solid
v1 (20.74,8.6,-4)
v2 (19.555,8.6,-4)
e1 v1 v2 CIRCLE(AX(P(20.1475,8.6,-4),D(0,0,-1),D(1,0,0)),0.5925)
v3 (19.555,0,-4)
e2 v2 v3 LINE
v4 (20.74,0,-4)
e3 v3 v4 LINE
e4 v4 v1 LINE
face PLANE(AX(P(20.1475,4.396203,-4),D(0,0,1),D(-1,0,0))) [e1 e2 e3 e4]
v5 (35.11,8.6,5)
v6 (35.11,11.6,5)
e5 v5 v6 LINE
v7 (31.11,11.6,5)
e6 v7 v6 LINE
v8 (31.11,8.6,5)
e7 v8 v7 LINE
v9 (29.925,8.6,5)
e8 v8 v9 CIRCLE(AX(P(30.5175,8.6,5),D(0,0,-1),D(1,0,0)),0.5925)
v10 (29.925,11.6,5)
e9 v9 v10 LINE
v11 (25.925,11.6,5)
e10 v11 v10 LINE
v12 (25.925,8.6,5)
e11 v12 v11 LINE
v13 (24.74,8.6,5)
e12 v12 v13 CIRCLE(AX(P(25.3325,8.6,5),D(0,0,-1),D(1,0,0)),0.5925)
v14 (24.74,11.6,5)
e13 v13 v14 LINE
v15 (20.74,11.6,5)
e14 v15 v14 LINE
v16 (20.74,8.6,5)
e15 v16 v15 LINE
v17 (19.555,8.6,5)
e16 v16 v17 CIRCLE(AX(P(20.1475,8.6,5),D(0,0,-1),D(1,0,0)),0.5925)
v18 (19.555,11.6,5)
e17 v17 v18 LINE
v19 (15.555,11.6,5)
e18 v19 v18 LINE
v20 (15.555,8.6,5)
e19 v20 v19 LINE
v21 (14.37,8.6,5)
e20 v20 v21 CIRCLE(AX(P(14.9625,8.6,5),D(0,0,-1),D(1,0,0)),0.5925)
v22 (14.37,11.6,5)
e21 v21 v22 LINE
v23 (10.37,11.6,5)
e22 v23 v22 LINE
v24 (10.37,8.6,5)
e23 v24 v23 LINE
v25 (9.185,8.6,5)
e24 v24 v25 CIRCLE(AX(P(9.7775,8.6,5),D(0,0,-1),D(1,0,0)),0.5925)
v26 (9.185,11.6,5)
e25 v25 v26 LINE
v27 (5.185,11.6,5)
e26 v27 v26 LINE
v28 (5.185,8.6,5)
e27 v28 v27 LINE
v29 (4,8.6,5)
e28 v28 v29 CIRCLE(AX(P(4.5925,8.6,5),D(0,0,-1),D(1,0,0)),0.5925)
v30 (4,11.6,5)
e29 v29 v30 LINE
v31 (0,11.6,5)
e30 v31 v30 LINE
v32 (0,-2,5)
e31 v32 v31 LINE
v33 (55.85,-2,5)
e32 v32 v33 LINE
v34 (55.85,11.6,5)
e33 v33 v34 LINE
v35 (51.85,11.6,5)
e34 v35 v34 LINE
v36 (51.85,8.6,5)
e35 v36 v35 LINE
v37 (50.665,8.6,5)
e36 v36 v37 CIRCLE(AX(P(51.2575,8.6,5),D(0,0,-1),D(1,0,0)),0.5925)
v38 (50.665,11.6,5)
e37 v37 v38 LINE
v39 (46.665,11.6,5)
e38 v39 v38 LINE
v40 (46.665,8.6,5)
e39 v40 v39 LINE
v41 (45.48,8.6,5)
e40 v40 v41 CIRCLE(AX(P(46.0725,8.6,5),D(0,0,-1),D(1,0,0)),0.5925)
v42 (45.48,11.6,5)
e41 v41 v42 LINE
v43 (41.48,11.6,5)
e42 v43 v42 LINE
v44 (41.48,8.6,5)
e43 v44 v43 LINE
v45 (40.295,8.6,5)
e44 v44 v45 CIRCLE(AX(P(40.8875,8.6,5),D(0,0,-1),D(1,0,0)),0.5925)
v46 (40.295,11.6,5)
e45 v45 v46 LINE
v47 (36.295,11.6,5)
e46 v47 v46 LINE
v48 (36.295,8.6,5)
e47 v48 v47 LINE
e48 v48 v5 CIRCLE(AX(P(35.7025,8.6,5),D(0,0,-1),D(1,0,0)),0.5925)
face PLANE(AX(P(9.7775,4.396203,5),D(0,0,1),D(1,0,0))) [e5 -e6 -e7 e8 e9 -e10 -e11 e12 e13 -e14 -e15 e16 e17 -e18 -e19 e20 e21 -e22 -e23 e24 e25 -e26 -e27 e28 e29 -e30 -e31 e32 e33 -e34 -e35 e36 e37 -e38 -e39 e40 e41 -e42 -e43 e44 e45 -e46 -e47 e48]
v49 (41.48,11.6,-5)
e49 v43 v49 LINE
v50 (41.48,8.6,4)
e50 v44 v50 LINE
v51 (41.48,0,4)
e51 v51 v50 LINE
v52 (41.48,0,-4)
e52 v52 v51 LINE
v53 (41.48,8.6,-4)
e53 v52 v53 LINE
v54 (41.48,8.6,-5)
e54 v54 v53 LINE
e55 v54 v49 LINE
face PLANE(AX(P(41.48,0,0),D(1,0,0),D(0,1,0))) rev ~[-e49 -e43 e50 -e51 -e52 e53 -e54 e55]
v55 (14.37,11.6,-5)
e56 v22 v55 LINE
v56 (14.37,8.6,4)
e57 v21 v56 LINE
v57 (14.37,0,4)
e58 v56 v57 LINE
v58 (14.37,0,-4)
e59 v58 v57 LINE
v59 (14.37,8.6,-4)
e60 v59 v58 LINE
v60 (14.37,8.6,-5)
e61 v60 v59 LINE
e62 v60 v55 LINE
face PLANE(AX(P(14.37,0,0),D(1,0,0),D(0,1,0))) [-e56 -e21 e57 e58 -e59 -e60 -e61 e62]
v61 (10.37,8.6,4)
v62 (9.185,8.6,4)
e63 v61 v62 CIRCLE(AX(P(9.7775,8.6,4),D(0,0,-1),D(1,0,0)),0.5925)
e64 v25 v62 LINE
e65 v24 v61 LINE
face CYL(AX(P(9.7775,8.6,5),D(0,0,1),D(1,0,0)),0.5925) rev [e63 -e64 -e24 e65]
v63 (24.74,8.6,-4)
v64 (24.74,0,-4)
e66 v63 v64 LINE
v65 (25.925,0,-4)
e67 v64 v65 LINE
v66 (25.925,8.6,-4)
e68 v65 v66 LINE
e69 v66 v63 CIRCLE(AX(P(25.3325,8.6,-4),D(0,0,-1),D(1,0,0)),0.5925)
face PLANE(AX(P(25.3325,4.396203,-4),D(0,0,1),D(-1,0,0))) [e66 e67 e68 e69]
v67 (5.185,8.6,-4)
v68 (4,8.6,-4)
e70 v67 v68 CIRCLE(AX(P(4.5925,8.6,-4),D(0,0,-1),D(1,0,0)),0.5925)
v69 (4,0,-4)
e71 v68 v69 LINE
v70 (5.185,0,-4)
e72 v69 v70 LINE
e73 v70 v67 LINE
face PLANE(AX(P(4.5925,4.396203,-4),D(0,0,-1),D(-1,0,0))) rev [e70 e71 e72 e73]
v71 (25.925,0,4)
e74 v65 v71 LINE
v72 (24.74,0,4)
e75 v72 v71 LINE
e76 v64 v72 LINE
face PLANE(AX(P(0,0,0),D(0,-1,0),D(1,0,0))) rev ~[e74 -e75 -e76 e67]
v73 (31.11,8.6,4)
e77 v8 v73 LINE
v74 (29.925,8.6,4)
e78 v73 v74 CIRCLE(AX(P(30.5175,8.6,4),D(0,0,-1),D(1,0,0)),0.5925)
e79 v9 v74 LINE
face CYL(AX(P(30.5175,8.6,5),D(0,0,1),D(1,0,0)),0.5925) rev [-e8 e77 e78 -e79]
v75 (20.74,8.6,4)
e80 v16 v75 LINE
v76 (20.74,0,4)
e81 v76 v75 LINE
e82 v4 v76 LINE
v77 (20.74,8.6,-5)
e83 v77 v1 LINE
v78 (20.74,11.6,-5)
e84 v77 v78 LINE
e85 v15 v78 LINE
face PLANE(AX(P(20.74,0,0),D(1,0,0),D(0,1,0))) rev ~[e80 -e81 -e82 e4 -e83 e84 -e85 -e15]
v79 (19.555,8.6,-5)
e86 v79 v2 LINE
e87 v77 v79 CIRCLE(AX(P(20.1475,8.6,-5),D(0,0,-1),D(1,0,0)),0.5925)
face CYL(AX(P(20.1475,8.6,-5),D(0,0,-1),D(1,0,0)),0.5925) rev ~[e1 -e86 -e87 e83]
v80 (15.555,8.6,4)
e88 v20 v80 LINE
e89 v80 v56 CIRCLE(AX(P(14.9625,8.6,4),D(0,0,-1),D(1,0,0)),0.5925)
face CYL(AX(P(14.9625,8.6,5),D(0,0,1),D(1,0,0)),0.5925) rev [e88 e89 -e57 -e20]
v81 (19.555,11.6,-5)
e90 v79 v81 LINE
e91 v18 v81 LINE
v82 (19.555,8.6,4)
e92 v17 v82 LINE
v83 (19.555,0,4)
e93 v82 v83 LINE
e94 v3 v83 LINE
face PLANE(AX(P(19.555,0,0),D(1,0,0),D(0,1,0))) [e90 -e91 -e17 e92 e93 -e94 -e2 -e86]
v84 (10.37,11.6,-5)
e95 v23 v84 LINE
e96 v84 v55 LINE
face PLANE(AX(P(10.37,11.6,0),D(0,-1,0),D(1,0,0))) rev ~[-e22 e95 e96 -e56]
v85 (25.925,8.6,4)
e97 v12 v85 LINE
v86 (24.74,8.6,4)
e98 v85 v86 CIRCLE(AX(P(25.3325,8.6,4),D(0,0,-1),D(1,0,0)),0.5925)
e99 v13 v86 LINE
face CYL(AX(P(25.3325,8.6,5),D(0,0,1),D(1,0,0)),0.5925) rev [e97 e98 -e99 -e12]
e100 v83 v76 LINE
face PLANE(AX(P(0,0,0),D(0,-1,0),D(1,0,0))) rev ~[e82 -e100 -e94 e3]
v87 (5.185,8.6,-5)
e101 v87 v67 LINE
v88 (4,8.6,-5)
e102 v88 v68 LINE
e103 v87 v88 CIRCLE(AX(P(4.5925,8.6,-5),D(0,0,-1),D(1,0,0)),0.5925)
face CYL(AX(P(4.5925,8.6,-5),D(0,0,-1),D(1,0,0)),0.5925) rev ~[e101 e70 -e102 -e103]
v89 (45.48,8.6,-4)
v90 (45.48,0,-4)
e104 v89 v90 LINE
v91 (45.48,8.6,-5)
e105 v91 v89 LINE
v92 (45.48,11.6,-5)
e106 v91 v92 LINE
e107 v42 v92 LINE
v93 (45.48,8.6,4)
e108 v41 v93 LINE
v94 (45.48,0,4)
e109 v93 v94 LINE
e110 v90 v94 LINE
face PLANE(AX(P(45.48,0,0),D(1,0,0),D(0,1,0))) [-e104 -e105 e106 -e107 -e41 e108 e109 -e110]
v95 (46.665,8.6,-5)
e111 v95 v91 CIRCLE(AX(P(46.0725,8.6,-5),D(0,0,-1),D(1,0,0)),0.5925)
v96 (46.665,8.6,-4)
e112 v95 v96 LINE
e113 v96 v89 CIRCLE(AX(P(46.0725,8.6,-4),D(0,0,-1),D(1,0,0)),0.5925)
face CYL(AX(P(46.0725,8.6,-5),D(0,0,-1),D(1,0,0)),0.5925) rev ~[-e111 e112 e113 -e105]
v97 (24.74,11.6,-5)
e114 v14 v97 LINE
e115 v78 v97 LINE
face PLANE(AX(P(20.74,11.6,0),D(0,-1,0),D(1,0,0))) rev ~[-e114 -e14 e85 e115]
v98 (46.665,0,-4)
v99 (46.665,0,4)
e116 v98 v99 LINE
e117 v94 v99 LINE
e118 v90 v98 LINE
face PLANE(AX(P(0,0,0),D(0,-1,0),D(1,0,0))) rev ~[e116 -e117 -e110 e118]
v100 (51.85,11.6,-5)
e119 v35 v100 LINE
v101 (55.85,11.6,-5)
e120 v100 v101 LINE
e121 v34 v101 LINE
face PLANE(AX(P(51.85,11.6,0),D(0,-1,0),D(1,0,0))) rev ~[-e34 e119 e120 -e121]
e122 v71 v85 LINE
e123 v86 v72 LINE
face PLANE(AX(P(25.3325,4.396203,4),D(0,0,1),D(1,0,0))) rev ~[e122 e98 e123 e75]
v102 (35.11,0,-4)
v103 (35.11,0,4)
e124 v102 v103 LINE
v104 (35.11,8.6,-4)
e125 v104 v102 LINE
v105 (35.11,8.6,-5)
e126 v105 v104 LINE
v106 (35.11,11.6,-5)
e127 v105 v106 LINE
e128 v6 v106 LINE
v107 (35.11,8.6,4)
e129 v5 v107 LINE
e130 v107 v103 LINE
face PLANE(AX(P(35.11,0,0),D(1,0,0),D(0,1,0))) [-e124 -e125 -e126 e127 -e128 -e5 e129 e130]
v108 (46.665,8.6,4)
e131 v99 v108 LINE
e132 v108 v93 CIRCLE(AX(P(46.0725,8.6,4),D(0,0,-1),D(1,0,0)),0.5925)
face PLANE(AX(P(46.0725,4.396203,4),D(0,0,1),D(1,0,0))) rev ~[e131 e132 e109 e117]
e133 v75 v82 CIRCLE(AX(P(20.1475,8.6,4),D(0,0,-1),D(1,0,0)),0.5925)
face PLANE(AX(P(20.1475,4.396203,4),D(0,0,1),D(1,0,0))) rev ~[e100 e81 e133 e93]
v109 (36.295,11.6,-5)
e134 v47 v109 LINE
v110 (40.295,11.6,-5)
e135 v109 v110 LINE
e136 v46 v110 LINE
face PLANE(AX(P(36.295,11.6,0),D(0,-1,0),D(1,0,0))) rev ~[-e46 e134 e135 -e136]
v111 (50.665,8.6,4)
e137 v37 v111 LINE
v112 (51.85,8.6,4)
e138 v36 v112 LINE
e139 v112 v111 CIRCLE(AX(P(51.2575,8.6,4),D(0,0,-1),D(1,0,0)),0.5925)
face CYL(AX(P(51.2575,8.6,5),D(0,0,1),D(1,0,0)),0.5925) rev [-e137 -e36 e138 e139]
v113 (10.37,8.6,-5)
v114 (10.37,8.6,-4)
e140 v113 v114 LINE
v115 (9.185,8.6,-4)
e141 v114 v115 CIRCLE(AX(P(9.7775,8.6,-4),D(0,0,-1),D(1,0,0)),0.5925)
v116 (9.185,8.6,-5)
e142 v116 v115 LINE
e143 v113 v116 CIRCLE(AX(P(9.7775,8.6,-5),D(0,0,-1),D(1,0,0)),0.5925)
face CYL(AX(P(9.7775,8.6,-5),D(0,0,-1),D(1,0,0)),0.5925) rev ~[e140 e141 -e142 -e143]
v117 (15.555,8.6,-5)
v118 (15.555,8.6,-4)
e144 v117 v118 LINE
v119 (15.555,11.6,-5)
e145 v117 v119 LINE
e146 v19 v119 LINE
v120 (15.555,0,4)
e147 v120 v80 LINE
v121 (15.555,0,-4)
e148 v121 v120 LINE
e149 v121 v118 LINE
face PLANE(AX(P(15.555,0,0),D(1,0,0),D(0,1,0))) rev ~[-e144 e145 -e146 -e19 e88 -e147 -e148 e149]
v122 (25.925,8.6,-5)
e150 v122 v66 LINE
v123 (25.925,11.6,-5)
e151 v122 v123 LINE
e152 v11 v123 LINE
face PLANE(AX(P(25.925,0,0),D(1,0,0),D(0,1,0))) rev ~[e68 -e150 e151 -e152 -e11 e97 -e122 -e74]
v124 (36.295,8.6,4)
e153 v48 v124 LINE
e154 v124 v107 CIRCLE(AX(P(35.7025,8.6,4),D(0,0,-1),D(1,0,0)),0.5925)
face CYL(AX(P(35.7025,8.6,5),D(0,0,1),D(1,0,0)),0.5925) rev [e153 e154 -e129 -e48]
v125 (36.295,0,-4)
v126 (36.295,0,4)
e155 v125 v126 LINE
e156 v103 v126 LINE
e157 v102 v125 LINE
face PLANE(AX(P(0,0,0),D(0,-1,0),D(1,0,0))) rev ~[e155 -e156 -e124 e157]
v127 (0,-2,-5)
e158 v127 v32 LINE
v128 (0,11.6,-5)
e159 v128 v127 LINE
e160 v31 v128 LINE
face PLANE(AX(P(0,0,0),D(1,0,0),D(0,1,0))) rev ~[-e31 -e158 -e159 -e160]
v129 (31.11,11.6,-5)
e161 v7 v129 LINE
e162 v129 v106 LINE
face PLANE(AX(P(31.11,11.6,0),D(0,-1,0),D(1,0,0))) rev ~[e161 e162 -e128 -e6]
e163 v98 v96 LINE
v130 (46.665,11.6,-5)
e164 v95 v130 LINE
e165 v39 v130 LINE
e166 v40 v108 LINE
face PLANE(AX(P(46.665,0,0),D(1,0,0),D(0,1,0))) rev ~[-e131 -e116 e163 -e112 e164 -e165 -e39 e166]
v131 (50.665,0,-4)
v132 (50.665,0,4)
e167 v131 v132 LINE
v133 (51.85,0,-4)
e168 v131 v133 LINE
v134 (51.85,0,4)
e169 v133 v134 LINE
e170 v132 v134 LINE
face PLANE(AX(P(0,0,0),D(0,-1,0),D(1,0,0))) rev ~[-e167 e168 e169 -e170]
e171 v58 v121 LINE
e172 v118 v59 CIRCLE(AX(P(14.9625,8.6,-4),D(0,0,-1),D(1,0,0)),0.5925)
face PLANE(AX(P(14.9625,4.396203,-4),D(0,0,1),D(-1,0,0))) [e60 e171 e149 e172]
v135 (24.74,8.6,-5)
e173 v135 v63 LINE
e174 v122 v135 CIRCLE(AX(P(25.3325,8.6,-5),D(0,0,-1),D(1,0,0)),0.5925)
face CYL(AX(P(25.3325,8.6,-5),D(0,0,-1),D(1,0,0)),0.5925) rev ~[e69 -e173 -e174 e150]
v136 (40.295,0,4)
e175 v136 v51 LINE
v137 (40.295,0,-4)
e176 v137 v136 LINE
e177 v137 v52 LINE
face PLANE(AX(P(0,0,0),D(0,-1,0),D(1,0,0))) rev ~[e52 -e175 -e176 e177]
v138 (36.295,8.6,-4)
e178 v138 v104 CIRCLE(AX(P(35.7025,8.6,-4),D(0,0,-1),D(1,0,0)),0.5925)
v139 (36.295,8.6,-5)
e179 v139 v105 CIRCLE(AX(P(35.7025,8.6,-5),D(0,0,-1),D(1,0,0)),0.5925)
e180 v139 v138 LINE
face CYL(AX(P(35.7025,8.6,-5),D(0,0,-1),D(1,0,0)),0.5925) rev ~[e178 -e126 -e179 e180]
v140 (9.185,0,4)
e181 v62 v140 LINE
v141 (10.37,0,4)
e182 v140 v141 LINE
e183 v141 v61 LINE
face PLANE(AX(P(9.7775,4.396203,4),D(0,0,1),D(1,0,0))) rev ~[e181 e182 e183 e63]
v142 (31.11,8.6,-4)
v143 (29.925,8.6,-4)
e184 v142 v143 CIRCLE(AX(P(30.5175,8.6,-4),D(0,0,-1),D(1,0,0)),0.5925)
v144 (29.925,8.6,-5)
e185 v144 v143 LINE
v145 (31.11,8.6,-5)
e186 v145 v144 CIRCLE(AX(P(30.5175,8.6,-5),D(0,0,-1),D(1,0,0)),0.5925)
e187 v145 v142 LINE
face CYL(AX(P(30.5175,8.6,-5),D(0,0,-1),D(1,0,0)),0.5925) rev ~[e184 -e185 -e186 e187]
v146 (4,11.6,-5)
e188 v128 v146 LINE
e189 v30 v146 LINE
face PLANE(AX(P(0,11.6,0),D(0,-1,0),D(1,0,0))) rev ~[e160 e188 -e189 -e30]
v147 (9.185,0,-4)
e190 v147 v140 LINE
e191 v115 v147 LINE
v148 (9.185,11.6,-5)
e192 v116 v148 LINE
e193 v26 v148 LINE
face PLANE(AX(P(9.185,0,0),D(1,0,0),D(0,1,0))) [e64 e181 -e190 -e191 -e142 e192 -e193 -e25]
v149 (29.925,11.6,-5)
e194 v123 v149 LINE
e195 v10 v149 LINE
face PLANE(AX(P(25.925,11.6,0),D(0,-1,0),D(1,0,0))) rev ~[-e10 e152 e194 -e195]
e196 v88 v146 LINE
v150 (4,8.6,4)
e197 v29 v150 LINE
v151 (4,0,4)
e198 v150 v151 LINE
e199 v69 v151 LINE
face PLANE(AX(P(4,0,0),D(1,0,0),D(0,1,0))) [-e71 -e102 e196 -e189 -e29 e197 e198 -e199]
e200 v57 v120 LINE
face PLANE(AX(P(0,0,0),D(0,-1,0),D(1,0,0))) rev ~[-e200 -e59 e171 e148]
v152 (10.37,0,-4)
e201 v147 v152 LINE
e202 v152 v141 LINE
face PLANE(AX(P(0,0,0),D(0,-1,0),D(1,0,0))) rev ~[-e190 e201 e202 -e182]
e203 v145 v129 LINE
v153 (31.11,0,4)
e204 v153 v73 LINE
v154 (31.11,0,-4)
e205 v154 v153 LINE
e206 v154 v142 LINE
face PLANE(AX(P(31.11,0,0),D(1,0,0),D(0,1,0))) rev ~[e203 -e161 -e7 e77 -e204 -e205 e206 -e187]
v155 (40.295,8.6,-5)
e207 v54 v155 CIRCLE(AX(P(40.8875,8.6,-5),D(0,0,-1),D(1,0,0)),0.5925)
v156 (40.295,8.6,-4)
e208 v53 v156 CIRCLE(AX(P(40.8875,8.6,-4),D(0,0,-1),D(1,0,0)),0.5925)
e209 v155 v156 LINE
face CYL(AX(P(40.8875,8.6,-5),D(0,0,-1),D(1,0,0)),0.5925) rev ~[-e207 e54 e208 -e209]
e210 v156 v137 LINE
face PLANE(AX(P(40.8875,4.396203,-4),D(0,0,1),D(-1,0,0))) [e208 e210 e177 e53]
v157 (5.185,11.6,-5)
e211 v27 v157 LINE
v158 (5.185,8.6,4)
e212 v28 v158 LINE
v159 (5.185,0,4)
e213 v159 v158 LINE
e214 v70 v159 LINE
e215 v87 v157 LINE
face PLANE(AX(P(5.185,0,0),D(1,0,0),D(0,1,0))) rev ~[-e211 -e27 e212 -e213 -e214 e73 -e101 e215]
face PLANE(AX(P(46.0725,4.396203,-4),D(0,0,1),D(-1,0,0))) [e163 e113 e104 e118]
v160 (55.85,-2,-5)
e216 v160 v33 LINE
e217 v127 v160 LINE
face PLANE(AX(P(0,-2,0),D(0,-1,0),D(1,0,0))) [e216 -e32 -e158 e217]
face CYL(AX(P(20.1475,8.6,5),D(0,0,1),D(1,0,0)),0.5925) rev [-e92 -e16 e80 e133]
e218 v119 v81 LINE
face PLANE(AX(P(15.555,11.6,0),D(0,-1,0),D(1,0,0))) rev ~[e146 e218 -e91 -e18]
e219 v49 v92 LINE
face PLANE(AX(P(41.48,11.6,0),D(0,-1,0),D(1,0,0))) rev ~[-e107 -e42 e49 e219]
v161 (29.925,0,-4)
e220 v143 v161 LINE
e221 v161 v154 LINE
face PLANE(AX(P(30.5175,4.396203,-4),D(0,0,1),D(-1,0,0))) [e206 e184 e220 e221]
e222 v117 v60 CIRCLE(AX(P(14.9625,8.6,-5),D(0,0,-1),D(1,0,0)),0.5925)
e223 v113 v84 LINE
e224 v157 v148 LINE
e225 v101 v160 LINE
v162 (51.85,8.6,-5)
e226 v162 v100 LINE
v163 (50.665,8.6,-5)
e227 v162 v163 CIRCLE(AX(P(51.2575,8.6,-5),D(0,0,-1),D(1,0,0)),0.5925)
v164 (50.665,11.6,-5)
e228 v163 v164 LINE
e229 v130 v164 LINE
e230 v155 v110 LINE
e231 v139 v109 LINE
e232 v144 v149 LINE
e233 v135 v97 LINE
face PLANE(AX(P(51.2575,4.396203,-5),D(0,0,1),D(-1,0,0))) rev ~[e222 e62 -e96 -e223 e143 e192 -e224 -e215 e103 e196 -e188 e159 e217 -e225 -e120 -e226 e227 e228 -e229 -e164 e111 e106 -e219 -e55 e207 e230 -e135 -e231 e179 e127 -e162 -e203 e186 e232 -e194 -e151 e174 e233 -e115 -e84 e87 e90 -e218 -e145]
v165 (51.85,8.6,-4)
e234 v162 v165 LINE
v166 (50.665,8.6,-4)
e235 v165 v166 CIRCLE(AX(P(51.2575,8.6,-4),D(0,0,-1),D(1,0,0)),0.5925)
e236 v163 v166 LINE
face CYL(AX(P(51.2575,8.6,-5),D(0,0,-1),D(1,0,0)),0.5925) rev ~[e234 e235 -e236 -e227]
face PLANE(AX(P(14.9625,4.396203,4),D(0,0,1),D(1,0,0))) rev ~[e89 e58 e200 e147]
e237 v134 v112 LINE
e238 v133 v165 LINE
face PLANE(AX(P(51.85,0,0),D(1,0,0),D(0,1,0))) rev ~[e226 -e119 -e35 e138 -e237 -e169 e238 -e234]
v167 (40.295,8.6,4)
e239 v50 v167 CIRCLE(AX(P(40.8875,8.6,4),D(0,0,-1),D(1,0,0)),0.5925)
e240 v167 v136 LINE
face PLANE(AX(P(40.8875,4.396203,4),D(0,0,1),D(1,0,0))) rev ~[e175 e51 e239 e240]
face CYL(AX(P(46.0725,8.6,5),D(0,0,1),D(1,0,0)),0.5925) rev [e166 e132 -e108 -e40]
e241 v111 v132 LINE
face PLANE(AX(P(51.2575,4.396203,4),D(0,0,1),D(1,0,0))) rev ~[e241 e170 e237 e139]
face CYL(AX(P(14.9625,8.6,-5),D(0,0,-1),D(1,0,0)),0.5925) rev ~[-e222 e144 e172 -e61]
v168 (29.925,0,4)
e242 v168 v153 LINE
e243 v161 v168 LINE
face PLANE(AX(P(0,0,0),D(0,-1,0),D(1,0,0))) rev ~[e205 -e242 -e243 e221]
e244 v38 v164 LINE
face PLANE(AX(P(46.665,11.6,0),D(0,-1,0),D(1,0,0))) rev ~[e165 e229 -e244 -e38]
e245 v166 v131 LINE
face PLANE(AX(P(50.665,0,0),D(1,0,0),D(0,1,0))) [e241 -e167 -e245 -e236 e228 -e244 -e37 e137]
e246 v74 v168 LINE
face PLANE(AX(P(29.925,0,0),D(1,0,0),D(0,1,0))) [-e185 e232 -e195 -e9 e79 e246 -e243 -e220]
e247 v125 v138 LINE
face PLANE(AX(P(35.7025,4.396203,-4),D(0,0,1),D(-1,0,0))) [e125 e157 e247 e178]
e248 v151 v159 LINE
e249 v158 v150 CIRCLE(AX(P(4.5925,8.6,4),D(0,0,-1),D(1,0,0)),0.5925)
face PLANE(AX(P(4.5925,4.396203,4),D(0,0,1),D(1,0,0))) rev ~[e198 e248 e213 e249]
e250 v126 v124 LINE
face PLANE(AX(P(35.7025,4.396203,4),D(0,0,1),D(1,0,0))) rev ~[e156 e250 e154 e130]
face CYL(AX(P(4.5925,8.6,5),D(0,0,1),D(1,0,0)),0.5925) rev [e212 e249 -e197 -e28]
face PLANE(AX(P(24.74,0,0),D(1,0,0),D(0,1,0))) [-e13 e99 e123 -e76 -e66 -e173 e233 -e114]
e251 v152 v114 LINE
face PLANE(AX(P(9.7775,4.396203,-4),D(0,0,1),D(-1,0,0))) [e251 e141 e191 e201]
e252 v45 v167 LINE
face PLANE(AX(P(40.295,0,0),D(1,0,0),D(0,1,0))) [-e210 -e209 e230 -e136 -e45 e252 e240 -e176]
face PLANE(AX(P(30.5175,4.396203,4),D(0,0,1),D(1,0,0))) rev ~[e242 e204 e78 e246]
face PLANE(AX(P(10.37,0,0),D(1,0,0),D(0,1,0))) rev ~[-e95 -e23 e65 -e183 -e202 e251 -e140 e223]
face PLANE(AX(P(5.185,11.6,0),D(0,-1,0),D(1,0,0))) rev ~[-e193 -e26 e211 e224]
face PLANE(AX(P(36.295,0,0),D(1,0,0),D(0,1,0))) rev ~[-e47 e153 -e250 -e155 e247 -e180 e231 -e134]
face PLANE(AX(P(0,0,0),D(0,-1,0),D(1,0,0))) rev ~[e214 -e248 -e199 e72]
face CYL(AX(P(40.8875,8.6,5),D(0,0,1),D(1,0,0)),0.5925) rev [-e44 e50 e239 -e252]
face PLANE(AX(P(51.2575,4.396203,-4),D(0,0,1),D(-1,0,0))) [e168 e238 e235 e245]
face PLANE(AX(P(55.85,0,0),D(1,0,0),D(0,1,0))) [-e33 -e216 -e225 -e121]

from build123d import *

# Parameters (mm, degrees)
SKIZZE1_W                       = 55.85
SKIZZE1_H                       = 2
AUFSATZ_LINEAR_AUSTRAGEN1_DEPTH = 5
SKIZZE2_W                       = 4
SKIZZE2_H                       = 11.6
AUFSATZ_LINEAR_AUSTRAGEN2_DEPTH = 5
LINEARES_MUSTER1_COUNT          = 11
LINEARES_MUSTER1_PITCH          = 5.185
AUFSATZ_LINEAR_AUSTRAGEN3_DEPTH = 1
LINEARES_MUSTER2_COUNT          = 10
LINEARES_MUSTER2_PITCH          = 5.185
LINEARES_MUSTER2_COPY_1_DEPTH   = 1
LINEARES_MUSTER2_COPY_2_DEPTH   = 1
LINEARES_MUSTER2_COPY_3_DEPTH   = 1
LINEARES_MUSTER2_COPY_4_DEPTH   = 1
LINEARES_MUSTER2_COPY_5_DEPTH   = 1
LINEARES_MUSTER2_COPY_6_DEPTH   = 1
LINEARES_MUSTER2_COPY_7_DEPTH   = 1
LINEARES_MUSTER2_COPY_8_DEPTH   = 1
LINEARES_MUSTER2_COPY_9_DEPTH   = 1


with BuildPart() as part:
    # Skizze1 → Aufsatz-Linear austragen1 (new, symmetric)
    with BuildSketch(Plane.XY):
        with Locations((27.925, -1)):
            Rectangle(SKIZZE1_W, SKIZZE1_H)
    extrude(amount=AUFSATZ_LINEAR_AUSTRAGEN1_DEPTH, both=True)

    # Skizze2 → Aufsatz-Linear austragen2 (add, symmetric)
    with BuildSketch(Plane.XY):
        with Locations((2, 5.8)):
            Rectangle(SKIZZE2_W, SKIZZE2_H)
    aufsatz_linear_austragen2 = extrude(amount=AUFSATZ_LINEAR_AUSTRAGEN2_DEPTH, both=True)

    # Lineares Muster1: Aufsatz-Linear austragen2 ×11
    with Locations(*[(i * LINEARES_MUSTER1_PITCH, 0, 0) for i in range(1, LINEARES_MUSTER1_COUNT)]):
        add(aufsatz_linear_austragen2)

    # Skizze3 → Aufsatz-Linear austragen3 (add)
    with BuildSketch(Plane.XY.offset(5)):
        with BuildLine():
            Line((4, 8.6), (4, 0))
            Line((4, 0), (5.185, 0))
            Line((5.185, 0), (5.185, 8.6))
            ThreePointArc((5.185, 8.6), (4.5925, 8.0075), (4, 8.6))
        make_face()
    aufsatz_linear_austragen3 = extrude(amount=-AUFSATZ_LINEAR_AUSTRAGEN3_DEPTH)

    # Spiegeln1: Aufsatz-Linear austragen3 across plane
    add(aufsatz_linear_austragen3.mirror(Plane.XY))

    # Lineares Muster2: Aufsatz-Linear austragen3 ×10
    with Locations(*[(i * LINEARES_MUSTER2_PITCH, 0, 0) for i in range(1, LINEARES_MUSTER2_COUNT)]):
        add(aufsatz_linear_austragen3)

    # Lineares Muster2 copy 1 sketch → Lineares Muster2 copy 1 (add)
    with BuildSketch(Plane(origin=(5.185, 0, -5), x_dir=(1, 0, 0), z_dir=(0, 0, -1))):
        with BuildLine():
            Line((4, -8.6), (4, 0))
            Line((4, 0), (5.185, 0))
            Line((5.185, 0), (5.185, -8.6))
            ThreePointArc((5.185, -8.6), (4.5925, -8.0075), (4, -8.6))
        make_face()
    extrude(amount=-LINEARES_MUSTER2_COPY_1_DEPTH)

    # Lineares Muster2 copy 2 sketch → Lineares Muster2 copy 2 (add)
    with BuildSketch(Plane(origin=(10.37, 0, -5), x_dir=(1, 0, 0), z_dir=(0, 0, -1))):
        with BuildLine():
            Line((4, -8.6), (4, 0))
            Line((4, 0), (5.185, 0))
            Line((5.185, 0), (5.185, -8.6))
            ThreePointArc((5.185, -8.6), (4.5925, -8.0075), (4, -8.6))
        make_face()
    extrude(amount=-LINEARES_MUSTER2_COPY_2_DEPTH)

    # Lineares Muster2 copy 3 sketch → Lineares Muster2 copy 3 (add)
    with BuildSketch(Plane(origin=(15.555, 0, -5), x_dir=(1, 0, 0), z_dir=(0, 0, -1))):
        with BuildLine():
            Line((4, -8.6), (4, 0))
            Line((4, 0), (5.185, 0))
            Line((5.185, 0), (5.185, -8.6))
            ThreePointArc((5.185, -8.6), (4.5925, -8.0075), (4, -8.6))
        make_face()
    extrude(amount=-LINEARES_MUSTER2_COPY_3_DEPTH)

    # Lineares Muster2 copy 4 sketch → Lineares Muster2 copy 4 (add)
    with BuildSketch(Plane(origin=(20.74, 0, -5), x_dir=(1, 0, 0), z_dir=(0, 0, -1))):
        with BuildLine():
            Line((4, -8.6), (4, 0))
            Line((4, 0), (5.185, 0))
            Line((5.185, 0), (5.185, -8.6))
            ThreePointArc((5.185, -8.6), (4.5925, -8.0075), (4, -8.6))
        make_face()
    extrude(amount=-LINEARES_MUSTER2_COPY_4_DEPTH)

    # Lineares Muster2 copy 5 sketch → Lineares Muster2 copy 5 (add)
    with BuildSketch(Plane(origin=(25.925, 0, -5), x_dir=(1, 0, 0), z_dir=(0, 0, -1))):
        with BuildLine():
            Line((4, -8.6), (4, 0))
            Line((4, 0), (5.185, 0))
            Line((5.185, 0), (5.185, -8.6))
            ThreePointArc((5.185, -8.6), (4.5925, -8.0075), (4, -8.6))
        make_face()
    extrude(amount=-LINEARES_MUSTER2_COPY_5_DEPTH)

    # Lineares Muster2 copy 6 sketch → Lineares Muster2 copy 6 (add)
    with BuildSketch(Plane(origin=(31.11, 0, -5), x_dir=(1, 0, 0), z_dir=(0, 0, -1))):
        with BuildLine():
            Line((4, -8.6), (4, 0))
            Line((4, 0), (5.185, 0))
            Line((5.185, 0), (5.185, -8.6))
            ThreePointArc((5.185, -8.6), (4.5925, -8.0075), (4, -8.6))
        make_face()
    extrude(amount=-LINEARES_MUSTER2_COPY_6_DEPTH)

    # Lineares Muster2 copy 7 sketch → Lineares Muster2 copy 7 (add)
    with BuildSketch(Plane(origin=(36.295, 0, -5), x_dir=(1, 0, 0), z_dir=(0, 0, -1))):
        with BuildLine():
            Line((4, -8.6), (4, 0))
            Line((4, 0), (5.185, 0))
            Line((5.185, 0), (5.185, -8.6))
            ThreePointArc((5.185, -8.6), (4.5925, -8.0075), (4, -8.6))
        make_face()
    extrude(amount=-LINEARES_MUSTER2_COPY_7_DEPTH)

    # Lineares Muster2 copy 8 sketch → Lineares Muster2 copy 8 (add)
    with BuildSketch(Plane(origin=(41.48, 0, -5), x_dir=(1, 0, 0), z_dir=(0, 0, -1))):
        with BuildLine():
            Line((4, -8.6), (4, 0))
            Line((4, 0), (5.185, 0))
            Line((5.185, 0), (5.185, -8.6))
            ThreePointArc((5.185, -8.6), (4.5925, -8.0075), (4, -8.6))
        make_face()
    extrude(amount=-LINEARES_MUSTER2_COPY_8_DEPTH)

    # Lineares Muster2 copy 9 sketch → Lineares Muster2 copy 9 (add)
    with BuildSketch(Plane(origin=(46.665, 0, -5), x_dir=(1, 0, 0), z_dir=(0, 0, -1))):
        with BuildLine():
            Line((4, -8.6), (4, 0))
            Line((4, 0), (5.185, 0))
            Line((5.185, 0), (5.185, -8.6))
            ThreePointArc((5.185, -8.6), (4.5925, -8.0075), (4, -8.6))
        make_face()
    extrude(amount=-LINEARES_MUSTER2_COPY_9_DEPTH)


solid = part.part
